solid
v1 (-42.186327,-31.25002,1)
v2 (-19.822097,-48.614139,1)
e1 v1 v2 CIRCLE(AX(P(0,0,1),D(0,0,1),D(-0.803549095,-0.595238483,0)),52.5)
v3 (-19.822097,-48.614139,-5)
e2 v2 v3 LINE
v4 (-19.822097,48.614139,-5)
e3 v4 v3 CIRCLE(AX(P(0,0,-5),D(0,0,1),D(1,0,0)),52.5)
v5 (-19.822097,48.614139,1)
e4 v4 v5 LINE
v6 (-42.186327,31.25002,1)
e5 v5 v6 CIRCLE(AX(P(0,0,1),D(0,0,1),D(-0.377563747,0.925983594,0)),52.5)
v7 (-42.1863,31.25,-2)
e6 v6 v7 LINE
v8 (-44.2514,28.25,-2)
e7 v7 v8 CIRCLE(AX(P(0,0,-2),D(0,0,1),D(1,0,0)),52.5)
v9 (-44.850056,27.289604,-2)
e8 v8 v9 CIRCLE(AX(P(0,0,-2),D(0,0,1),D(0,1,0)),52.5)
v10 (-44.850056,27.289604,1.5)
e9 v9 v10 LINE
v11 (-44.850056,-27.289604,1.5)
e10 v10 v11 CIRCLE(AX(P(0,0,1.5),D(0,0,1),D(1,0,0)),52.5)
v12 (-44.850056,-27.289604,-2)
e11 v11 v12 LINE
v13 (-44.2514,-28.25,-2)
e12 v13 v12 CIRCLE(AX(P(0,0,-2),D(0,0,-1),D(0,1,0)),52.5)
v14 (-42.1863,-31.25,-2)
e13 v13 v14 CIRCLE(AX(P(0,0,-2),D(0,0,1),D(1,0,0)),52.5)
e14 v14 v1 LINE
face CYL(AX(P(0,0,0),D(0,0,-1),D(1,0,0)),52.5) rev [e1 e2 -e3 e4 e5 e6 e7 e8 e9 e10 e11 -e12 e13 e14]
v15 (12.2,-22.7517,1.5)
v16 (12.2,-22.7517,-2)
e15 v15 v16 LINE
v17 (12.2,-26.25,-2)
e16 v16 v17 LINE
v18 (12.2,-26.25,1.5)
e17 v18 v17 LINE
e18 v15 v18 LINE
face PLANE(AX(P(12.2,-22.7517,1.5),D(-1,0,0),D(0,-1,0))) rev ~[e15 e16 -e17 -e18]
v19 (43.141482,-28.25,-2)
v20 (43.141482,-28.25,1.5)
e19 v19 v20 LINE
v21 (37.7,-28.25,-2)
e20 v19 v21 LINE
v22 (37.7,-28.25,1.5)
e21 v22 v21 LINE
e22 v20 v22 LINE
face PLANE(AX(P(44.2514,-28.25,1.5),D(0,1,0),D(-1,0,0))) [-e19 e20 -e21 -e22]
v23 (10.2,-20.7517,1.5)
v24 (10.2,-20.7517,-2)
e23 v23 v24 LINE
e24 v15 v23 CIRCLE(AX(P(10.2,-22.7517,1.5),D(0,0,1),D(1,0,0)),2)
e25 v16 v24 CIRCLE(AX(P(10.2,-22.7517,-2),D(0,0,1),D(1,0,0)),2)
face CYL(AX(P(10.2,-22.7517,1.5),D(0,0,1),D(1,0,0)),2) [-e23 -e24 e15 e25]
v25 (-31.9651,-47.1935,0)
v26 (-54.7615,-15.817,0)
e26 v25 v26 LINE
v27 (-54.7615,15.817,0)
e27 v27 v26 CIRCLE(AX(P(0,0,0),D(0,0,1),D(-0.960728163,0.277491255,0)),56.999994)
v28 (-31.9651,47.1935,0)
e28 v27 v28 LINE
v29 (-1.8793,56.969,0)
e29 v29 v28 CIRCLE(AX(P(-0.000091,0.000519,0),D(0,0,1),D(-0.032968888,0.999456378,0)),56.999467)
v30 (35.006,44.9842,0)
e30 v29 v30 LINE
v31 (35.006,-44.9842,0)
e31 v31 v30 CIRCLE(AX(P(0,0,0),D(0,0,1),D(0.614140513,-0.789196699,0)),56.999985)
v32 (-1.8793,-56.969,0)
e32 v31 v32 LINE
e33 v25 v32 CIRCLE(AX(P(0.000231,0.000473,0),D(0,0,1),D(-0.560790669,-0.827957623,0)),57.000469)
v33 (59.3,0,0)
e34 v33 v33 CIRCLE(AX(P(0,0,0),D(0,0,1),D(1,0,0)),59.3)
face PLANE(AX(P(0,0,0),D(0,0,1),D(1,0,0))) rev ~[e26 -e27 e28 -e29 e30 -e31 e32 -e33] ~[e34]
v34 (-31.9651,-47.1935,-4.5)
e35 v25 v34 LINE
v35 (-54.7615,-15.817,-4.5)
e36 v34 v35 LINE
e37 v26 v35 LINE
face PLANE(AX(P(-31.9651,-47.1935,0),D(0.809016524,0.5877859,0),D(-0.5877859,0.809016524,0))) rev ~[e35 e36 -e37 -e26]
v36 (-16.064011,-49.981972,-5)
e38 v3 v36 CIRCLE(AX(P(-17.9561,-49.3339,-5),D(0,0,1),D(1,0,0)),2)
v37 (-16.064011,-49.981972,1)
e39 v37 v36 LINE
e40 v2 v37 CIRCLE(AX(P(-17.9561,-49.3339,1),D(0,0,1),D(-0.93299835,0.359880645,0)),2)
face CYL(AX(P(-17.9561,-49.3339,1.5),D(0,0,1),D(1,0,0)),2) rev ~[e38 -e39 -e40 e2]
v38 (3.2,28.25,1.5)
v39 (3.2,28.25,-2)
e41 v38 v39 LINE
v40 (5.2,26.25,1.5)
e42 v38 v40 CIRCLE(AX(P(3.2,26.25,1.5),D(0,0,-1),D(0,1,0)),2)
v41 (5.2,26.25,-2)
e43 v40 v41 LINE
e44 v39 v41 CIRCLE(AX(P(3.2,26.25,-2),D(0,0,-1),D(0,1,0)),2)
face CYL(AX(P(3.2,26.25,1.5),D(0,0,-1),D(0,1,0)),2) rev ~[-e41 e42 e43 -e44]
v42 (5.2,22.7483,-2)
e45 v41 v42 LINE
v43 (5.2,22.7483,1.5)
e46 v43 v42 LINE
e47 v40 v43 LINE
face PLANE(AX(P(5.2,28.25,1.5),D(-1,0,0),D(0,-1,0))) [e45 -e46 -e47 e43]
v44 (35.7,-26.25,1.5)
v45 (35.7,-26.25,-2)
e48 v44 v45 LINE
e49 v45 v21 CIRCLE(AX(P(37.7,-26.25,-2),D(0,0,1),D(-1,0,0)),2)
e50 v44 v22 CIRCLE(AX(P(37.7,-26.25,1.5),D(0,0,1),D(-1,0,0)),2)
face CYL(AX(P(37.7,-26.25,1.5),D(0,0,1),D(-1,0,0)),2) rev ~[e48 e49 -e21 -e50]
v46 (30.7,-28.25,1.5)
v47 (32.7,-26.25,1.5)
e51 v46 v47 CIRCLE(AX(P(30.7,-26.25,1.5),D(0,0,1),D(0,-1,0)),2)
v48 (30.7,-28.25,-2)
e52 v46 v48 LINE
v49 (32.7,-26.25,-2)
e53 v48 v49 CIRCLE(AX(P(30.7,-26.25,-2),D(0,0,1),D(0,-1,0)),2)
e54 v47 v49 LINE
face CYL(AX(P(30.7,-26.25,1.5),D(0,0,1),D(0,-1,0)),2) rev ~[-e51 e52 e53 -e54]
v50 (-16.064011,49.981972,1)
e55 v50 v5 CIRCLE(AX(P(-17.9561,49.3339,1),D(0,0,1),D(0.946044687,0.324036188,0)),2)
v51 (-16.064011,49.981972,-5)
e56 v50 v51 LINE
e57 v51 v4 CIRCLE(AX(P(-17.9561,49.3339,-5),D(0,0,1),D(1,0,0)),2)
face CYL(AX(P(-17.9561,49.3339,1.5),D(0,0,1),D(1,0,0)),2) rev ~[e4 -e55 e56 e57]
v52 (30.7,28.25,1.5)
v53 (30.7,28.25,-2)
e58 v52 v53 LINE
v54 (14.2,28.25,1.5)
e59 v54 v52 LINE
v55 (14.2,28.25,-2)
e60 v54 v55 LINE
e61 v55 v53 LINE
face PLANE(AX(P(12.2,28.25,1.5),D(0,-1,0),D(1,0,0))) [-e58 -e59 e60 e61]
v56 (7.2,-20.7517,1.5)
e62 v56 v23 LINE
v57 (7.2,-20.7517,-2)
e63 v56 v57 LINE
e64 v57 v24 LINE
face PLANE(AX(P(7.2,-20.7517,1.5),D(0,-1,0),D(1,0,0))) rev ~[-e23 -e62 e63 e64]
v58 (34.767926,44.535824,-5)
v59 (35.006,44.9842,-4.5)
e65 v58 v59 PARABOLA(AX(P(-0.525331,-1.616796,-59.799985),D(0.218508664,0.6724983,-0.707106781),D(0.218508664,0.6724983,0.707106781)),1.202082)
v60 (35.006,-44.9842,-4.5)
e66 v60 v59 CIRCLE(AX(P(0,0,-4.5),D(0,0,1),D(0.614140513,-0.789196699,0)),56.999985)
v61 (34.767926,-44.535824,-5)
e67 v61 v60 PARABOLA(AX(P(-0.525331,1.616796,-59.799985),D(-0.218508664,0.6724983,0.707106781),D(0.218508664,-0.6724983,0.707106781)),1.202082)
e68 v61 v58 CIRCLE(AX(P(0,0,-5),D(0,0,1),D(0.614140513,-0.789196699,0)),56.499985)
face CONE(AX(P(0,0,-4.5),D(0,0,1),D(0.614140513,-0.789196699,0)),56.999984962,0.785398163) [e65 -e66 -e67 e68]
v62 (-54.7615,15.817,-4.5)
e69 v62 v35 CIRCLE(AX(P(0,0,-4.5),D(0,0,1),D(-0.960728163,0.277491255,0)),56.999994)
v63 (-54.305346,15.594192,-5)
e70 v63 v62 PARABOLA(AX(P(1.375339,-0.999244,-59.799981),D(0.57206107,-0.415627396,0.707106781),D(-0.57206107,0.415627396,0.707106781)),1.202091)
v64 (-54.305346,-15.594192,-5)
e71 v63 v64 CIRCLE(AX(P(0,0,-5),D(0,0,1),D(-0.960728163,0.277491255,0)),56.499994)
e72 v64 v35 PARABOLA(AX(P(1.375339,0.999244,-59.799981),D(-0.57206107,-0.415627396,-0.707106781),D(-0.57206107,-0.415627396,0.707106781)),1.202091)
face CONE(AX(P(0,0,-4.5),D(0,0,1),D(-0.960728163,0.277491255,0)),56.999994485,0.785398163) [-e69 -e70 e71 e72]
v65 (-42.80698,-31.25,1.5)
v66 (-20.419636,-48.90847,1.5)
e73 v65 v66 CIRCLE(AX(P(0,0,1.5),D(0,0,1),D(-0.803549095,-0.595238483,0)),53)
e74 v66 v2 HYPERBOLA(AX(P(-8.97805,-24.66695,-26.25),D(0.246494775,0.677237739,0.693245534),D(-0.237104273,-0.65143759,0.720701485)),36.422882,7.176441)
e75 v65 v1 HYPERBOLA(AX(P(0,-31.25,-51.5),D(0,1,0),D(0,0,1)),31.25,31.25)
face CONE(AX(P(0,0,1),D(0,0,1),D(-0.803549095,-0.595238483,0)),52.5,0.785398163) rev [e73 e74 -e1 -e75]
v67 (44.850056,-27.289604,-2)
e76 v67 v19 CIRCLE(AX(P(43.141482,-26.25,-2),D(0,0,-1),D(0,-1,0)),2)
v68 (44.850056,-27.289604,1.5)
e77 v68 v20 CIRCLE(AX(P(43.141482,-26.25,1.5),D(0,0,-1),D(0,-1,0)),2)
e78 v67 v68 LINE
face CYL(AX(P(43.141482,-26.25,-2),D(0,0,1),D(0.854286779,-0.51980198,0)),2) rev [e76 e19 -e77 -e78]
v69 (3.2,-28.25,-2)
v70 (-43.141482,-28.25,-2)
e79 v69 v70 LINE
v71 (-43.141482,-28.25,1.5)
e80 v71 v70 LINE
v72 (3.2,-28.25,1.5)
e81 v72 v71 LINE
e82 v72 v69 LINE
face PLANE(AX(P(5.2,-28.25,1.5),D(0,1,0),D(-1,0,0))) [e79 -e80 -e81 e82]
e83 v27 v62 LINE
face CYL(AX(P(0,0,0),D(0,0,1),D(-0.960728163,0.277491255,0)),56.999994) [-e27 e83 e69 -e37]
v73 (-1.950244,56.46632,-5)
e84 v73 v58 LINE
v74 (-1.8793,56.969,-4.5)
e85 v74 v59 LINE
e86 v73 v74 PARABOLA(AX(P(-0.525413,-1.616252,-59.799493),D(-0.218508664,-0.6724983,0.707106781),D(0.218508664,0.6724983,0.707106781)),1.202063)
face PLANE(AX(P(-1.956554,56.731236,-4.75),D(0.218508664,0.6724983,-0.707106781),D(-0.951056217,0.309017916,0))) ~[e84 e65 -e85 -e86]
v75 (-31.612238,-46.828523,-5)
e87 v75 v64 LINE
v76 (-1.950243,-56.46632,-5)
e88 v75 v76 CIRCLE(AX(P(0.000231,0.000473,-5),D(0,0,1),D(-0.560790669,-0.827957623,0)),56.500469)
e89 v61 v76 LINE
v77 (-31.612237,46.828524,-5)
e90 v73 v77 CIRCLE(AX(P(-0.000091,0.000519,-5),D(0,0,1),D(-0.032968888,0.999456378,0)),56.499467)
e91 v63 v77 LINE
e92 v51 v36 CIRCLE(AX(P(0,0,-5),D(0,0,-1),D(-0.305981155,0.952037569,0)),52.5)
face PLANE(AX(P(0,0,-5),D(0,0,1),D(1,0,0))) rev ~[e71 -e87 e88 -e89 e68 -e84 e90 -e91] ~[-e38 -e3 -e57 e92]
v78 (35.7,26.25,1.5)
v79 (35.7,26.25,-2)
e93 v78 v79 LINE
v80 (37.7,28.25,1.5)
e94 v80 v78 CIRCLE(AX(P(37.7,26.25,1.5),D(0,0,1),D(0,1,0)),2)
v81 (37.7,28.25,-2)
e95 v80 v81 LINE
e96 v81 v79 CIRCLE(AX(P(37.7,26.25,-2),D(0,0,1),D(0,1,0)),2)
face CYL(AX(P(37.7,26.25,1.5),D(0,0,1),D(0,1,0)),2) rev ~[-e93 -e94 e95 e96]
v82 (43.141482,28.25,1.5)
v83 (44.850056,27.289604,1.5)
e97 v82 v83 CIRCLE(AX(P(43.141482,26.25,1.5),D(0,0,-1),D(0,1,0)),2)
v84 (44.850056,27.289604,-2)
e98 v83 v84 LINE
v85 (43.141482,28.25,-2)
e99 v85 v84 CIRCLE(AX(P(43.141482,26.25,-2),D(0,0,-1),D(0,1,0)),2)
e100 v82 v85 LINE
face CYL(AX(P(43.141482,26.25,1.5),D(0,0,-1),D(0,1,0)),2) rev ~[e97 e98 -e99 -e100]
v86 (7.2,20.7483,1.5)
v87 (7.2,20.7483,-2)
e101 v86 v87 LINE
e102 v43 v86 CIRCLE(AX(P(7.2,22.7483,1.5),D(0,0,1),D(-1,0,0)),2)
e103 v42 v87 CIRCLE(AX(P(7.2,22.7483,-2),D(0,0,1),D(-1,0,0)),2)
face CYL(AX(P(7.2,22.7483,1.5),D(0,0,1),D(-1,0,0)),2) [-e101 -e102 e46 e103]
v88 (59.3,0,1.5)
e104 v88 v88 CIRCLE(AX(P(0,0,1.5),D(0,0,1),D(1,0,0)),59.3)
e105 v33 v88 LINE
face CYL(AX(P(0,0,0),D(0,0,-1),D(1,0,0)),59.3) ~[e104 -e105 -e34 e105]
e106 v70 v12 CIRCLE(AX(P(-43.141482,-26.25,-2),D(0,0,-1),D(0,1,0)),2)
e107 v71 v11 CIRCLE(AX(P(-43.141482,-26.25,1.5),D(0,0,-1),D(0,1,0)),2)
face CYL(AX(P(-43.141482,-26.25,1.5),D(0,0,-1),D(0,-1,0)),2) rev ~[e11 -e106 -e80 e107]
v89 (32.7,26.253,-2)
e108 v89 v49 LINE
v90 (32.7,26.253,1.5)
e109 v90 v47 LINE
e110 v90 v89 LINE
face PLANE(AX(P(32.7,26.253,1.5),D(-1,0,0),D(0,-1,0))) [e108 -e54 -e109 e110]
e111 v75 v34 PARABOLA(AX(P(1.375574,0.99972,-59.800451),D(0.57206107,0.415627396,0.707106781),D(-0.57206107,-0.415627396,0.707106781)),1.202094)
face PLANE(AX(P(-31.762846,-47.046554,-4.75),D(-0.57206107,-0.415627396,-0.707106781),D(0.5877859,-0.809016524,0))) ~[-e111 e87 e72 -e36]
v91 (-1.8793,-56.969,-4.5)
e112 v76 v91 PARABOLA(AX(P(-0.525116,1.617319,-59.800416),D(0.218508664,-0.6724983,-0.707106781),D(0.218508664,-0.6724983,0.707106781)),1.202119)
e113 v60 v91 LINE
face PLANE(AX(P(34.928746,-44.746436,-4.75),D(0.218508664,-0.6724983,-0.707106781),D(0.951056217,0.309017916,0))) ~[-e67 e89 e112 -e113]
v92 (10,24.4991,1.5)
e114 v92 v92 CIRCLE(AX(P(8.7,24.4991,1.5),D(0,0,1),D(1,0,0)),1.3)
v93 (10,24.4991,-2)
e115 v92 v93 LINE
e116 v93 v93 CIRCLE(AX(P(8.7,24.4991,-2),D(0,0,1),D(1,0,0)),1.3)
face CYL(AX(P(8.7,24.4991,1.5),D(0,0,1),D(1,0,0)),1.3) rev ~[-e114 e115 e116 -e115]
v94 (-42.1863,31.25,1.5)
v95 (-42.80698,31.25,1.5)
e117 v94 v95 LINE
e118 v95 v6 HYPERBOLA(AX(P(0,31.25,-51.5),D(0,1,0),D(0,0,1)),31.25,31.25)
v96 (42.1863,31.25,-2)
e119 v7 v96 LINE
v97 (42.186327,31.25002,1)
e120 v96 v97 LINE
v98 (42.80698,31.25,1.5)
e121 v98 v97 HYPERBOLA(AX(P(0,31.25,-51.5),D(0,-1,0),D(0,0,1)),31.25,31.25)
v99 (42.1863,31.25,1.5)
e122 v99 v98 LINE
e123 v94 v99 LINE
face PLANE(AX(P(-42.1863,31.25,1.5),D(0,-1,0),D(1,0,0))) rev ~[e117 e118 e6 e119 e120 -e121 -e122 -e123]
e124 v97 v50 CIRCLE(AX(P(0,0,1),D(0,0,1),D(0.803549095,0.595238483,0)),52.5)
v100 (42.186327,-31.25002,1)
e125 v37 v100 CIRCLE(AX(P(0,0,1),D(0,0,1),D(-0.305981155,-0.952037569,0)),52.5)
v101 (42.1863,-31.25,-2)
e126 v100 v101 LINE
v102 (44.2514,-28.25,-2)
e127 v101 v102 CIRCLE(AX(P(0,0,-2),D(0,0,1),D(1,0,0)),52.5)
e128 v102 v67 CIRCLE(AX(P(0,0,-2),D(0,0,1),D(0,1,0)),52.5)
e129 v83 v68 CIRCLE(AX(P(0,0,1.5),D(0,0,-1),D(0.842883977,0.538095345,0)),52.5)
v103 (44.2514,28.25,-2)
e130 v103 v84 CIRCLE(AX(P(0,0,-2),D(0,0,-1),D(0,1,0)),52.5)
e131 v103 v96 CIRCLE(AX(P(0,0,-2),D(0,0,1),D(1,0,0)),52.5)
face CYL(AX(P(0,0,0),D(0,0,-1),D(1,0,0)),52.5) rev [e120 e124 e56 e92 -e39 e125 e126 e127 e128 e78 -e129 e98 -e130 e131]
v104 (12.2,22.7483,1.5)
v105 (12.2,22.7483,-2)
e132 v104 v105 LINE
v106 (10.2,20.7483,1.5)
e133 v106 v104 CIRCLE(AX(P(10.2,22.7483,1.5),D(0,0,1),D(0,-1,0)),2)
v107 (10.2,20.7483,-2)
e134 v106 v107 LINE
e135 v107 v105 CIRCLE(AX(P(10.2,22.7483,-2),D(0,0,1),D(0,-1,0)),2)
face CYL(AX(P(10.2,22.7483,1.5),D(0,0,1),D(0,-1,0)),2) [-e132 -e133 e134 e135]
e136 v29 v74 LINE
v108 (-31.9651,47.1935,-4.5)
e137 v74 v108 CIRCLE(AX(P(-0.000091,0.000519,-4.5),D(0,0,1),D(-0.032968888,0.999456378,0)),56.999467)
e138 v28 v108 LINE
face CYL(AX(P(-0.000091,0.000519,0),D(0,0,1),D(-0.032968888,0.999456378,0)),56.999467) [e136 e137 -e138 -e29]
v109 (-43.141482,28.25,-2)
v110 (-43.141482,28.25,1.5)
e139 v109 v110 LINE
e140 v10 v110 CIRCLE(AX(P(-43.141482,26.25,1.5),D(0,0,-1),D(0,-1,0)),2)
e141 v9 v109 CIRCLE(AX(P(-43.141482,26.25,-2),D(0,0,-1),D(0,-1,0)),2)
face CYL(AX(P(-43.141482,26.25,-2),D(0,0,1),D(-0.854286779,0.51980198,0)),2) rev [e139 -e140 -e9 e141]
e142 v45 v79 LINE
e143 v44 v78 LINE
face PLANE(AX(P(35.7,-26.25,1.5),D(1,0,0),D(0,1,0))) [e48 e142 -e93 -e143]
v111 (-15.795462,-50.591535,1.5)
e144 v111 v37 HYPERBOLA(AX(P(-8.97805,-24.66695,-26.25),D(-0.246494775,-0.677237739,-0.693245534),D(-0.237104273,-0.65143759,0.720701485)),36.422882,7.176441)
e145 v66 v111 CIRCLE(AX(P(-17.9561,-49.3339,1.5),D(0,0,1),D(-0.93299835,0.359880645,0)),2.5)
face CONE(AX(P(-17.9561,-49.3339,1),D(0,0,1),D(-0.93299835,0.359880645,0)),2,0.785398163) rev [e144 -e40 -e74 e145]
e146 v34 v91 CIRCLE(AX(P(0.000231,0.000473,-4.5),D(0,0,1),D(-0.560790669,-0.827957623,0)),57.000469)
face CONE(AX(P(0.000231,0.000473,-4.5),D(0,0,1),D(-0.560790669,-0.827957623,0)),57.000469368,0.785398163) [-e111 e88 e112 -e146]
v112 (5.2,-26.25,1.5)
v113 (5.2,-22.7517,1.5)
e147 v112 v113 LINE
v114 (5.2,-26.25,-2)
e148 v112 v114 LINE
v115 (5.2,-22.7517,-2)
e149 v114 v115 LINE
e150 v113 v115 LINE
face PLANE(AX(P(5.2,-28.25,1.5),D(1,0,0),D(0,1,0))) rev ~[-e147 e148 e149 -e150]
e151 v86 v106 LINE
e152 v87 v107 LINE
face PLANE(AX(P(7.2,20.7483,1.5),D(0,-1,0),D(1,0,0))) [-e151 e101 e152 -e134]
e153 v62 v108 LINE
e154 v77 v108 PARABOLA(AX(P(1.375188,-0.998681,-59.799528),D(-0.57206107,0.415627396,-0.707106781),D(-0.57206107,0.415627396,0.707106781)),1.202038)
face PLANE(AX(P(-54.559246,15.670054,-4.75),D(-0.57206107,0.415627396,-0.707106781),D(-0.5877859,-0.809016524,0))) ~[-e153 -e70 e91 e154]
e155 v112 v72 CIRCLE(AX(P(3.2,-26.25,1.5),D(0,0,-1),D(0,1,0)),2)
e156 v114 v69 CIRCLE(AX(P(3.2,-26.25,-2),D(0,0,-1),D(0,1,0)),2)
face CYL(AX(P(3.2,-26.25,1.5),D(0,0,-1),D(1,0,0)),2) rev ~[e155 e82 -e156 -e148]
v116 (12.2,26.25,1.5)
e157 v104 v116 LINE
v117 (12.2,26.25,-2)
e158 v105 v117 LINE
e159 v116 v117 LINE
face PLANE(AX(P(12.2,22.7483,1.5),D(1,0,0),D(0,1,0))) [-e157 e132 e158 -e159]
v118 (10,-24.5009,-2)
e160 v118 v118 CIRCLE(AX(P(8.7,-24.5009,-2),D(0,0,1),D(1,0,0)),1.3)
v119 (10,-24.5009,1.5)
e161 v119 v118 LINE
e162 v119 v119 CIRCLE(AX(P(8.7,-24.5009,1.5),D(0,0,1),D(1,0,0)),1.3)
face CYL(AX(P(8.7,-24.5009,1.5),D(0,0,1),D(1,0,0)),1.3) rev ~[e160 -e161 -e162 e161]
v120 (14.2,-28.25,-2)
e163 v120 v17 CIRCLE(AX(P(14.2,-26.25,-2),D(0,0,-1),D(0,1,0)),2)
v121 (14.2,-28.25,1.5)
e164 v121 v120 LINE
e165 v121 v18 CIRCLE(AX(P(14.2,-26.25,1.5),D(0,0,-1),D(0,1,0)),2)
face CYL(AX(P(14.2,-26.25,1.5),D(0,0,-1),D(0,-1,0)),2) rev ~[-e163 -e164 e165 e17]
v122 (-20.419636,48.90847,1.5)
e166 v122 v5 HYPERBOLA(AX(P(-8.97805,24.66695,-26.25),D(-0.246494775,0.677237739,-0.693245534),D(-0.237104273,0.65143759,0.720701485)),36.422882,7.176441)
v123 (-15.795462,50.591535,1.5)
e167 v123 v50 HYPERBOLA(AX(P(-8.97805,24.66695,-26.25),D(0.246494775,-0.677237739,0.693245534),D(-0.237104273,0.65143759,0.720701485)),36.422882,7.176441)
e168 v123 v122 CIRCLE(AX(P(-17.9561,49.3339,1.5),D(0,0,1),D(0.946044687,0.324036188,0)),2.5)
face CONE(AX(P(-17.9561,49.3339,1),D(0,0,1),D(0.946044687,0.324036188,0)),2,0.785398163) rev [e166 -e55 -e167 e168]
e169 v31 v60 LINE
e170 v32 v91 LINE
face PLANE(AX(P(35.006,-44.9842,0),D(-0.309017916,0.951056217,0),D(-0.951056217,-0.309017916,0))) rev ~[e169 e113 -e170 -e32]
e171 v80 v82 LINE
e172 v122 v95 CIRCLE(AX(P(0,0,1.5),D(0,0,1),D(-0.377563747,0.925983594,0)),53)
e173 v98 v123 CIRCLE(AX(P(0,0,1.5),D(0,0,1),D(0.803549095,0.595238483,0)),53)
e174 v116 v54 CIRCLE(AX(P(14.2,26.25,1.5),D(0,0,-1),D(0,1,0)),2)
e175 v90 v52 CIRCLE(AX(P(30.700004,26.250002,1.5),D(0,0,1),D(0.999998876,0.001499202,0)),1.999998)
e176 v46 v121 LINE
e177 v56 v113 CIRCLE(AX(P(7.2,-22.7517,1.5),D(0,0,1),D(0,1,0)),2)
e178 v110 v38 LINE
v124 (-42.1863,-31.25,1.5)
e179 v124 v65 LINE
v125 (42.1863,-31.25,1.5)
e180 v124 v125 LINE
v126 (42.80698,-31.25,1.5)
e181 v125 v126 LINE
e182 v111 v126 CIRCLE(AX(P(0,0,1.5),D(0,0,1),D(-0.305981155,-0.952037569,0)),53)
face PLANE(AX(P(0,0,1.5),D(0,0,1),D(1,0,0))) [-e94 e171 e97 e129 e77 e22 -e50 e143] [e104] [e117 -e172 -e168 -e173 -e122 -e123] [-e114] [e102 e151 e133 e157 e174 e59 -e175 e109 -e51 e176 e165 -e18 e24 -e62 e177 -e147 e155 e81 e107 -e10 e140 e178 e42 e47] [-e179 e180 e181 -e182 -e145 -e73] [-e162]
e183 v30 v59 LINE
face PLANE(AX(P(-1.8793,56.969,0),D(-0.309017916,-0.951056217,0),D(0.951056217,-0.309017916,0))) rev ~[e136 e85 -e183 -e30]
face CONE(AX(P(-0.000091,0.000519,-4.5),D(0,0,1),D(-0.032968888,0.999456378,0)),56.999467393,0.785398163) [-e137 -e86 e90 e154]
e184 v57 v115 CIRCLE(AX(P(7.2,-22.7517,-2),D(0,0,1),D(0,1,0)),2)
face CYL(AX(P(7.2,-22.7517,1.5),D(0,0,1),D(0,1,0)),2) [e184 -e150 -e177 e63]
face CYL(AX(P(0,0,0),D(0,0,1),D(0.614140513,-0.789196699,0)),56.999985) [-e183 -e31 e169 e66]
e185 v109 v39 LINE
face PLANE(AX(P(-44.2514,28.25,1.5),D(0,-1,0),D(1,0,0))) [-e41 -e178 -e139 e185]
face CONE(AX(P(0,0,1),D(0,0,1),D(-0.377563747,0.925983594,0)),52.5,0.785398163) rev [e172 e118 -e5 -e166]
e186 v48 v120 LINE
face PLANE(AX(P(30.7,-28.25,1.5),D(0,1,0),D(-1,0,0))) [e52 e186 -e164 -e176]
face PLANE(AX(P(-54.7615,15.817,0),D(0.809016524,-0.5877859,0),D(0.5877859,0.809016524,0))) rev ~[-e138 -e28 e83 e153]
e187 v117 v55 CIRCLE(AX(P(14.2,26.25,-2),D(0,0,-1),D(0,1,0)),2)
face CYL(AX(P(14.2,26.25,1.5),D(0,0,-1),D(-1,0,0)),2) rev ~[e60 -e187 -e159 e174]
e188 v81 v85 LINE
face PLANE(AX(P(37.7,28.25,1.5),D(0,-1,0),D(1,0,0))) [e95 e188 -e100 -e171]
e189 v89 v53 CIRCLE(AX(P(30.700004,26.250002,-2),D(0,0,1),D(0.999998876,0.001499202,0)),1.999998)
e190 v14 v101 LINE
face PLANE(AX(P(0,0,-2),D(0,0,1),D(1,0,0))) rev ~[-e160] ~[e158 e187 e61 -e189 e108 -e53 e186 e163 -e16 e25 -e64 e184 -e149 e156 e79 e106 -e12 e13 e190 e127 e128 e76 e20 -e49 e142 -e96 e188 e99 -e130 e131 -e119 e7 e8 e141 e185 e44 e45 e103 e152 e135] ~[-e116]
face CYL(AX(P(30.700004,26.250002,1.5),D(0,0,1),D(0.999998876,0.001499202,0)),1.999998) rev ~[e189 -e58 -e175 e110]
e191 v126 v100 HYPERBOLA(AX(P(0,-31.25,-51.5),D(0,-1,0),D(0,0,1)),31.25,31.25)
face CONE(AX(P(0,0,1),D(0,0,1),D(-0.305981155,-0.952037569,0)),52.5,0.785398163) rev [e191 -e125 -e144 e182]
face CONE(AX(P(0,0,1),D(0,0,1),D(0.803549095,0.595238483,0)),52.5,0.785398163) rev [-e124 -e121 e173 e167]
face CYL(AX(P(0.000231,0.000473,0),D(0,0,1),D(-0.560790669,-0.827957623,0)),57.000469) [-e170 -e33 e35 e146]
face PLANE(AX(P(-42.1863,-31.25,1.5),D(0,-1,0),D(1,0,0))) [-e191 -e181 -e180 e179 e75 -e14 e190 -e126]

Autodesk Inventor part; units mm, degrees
ref_plane "YZ Plane" through (0, 0, 0) normal (1, 0, 0) x (0, 1, 0)
ref_plane "XZ Plane" through (0, 0, 0) normal (0, 1, 0) x (-1, 0, 0)
sketch "Skizze1" plane through (0, 0, 0) normal (0, 0, 1) x (1, 0, 0)
  circle A0 centre (0, 0) radius 59.3
  circle A1 centre (0, 0) radius 52.5
  circle A2 centre (0, 0) radius 53.6 construction
  line L0 (-83.17, 0) -> (83.92, 0) construction
  line L1 (35.006, -44.9842) -> (-1.8793, -56.969)
  line L2 (-54.7615, 15.817) -> (-31.9651, 47.1935)
  line L3 (-1.8793, 56.969) -> (35.006, 44.9842)
  line L4 (-31.9651, -47.1935) -> (-54.7615, -15.817)
  arc A3 (-31.9651, -47.1935) -> (-1.8793, -56.969) centre (0, 0) ccw
  arc A4 (-54.7615, 15.817) -> (-54.7615, -15.817) centre (0, 0) ccw
  arc A5 (35.006, -44.9842) -> (35.006, 44.9842) centre (0, 0) ccw
  arc A6 (-1.8793, 56.969) -> (-31.9651, 47.1935) centre (0, 0) ccw
  circle A7 centre (0, 0) radius 46.4646
  line L5 (16.5633, -50.9766) -> (0, 0) construction
  line L6 (0, 0) -> (-43.3633, -31.5053) construction
  line L7 (0, 0) -> (16.5633, 50.9766) construction
  line L8 (0, 0) -> (-43.3633, 31.5053) construction
  point P0 (60.05, 0)
  dimension "d7" = 118.6
  dimension "d100" = 105
  dimension "d108" = 107.2
  dimension "d110" = 57
  dimension "d115" = 6.0354
  dimension "d139" = 72
  dimension "d140" = 72
  dimension "d141" = 72
  dimension "d142" = 72
extrude "Extrusion3" add sketch "Skizze1" against normal blind 5 contours L1 A3 L4 A4 L2 A6 L3 A5
extrude "Extrusion4" add sketch "Skizze1" along normal blind 1.5 contours A0 | L1 A3 L4 A4 L2 A6 L3 A5
sketch "ODroidskizze" plane through (0, 0, 1.5) normal (0, 0, 1) x (1, 0, 0)
  line L0 (0, -83.02) -> (0, 83.02) construction
  line L1 (-83.02, 0) -> (83.02, 0) construction
  line L2 (8.7, -24.5009) -> (-49.3, -24.5009) construction
  line L3 (-49.3, -24.5009) -> (-49.3, 24.4991) construction
  line L4 (-49.3, 24.4991) -> (8.7, 24.4991) construction
  line L5 (8.7, 24.4991) -> (8.7, -24.5009) construction
  line L6 (8.7, -24.5009) -> (-49.3, 24.4991) construction
  line L7 (32.7, 28.25) -> (32.7, -28.25) construction
  line L8 (32.7, -28.25) -> (-53.1757, 34.4371) construction
  line L9 (-53.1757, -34.4371) -> (32.7, 28.25) construction
  line L10 (32.7, 26.253) -> (32.7, -26.25)
  line L11 (7.2, 20.7483) -> (10.2, 20.7483)
  line L12 (12.2, 22.7483) -> (12.2, 28.25)
  line L13 (5.2, 28.25) -> (5.2, 22.7483)
  line L14 (5.2, 20.7483) -> (12.2, 28.25) construction
  line L15 (12.2, 20.7483) -> (5.2, 28.25) construction
  line L16 (7.2, -20.7517) -> (10.2, -20.7517)
  line L17 (12.2, -22.7517) -> (12.2, -28.25)
  line L18 (5.2, -28.25) -> (5.2, -22.7517)
  line L19 (5.2, -20.7517) -> (12.2, -28.25) construction
  line L20 (12.2, -20.7517) -> (5.2, -28.25) construction
  arc A0 (5.2, 22.7483) -> (7.2, 20.7483) centre (7.2, 22.7483) ccw
  arc A1 (10.2, 20.7483) -> (12.2, 22.7483) centre (10.2, 22.7483) ccw
  arc A2 (12.2, -22.7517) -> (10.2, -20.7517) centre (10.2, -22.7517) ccw
  arc A3 (7.2, -20.7517) -> (5.2, -22.7517) centre (7.2, -22.7517) ccw
  arc A4 (32.7, 26.253) -> (30.7, 28.25) centre (30.7, 26.25) ccw
  arc A5 (30.7, -28.25) -> (32.7, -26.25) centre (30.7, -26.25) ccw
  line L21 (12.2, 28.25) -> (30.7, 28.25)
  line L22 (12.2, 28.25) -> (32.7, 28.25) construction
  line L23 (30.7, -28.25) -> (12.2, -28.25)
  line L24 (32.7, -28.25) -> (12.2, -28.25) construction
  circle A6 centre (0, 0) radius 59.3 projected
  line L25 (-42.1863, 31.25) -> (42.1863, 31.25)
  line L26 (-42.1863, -31.25) -> (42.1863, -31.25)
  line L27 (35.7, -26.25) -> (35.7, 26.25)
  line L28 (37.7, 28.25) -> (44.2514, 28.25)
  line L29 (44.2514, -28.25) -> (37.7, -28.25)
  arc A7 (37.7, 28.25) -> (35.7, 26.25) centre (37.7, 26.25) ccw
  arc A8 (35.7, -26.25) -> (37.7, -28.25) centre (37.7, -26.25) ccw
  circle A9 centre (8.7, 24.4991) radius 1.3
  circle A10 centre (8.7, -24.5009) radius 1.3
  circle A11 centre (0, 0) radius 52.5 projected
  line L30 (-44.2514, 28.25) -> (5.2, 28.25) construction
  line L31 (-44.2514, 28.25) -> (5.2, 28.25)
  line L32 (5.2, -28.25) -> (-44.2514, -28.25)
  line L33 (5.2, -28.25) -> (-44.2514, -28.25) construction
  point P0 (0.9483, -27.9891)
  point P1 (-20.301, 0)
  point P2 (-20.301, 0)
  point P3 (-6, 0)
  point P4 (44.0485, 0)
  point P5 (-44.8148, -28.2558)
  point P6 (44.8435, -28.25)
  point P7 (44.8435, 28.25)
  point P8 (-44.8435, -28.25)
  point P9 (53, 0)
  point P10 (-53.0251, 0)
  dimension "d30" = 49
  dimension "d31" = 58
  dimension "d38" = 6
  dimension "d39" = 7
  dimension "d40" = 7
  dimension "d69" = 3
  dimension "d70" = 2
  dimension "d114" = 5.2
  dimension "d134" = 62.5
  dimension "d135" = 2.6
  dimension "d136" = 2.6
extrude "Extrusion5" add sketch "ODroidskizze" against normal blind 3.5 contours A4 L21 L12 A1 L11 A0 L13 L31 A11 L25 L28 A7 L27 A8 L29 L26 L32 L18 A3 L16 A2 L17 L23 A5 L10
ref_plane "Arbeitsebene1" through (0, 0, -1) normal (0, 0, 1) x (1, 0, 0)
sketch "Skizze8" plane through (0, 0, 1.5) normal (0, 0, 1) x (1, 0, 0)
  arc A0 (42.1863, 31.25) -> (-42.1863, 31.25) centre (0, 0) ccw construction
  arc A1 (-42.1863, -31.25) -> (42.1863, -31.25) centre (0, 0) ccw construction
  circle A2 centre (-17.9561, -49.3339) radius 2
  circle A3 centre (-17.9561, 49.3339) radius 2
  line L0 (-83.02, 0) -> (83.02, 0) construction
  line L1 (-17.9561, -49.3339) -> (0, 0) construction
  line L2 (0, 0) -> (-17.9561, 49.3339) construction
  dimension "d116" = 4
  dimension "d117" = 4
  dimension "d143" = 70
  dimension "d144" = 70
extrude "Lidar-Holder-Nose" cut sketch "Skizze8" against normal up to next
chamfer "Fase5" distance 0.5 angle 45 14 edges at (-43.3633, -31.5053, -5) (-57, 0, -5) (-17.614, -54.2102, -5) (-43.3633, 31.5053, -5) (-17.614, 54.2102, -5) (16.5633, 50.9766, -5) (57, 0, -5) (16.5633, -50.9766, -5) (-32.1969, -41.4682, 1.5) (16.0722, -49.9793, 1.5) (16.0722, 49.9793, 1.5) (-32.1969, 41.4682, 1.5) (-18.6401, 51.2132, 1.5) (-18.6401, -51.2132, 1.5)
fillet "Rundung4" radius 2 8 edges at (-44.2514, -28.25, -0.25) (44.2514, -28.25, -0.25) (44.2514, 28.25, -0.25) (-44.2514, 28.25, -0.25) (12.2, 28.25, -0.25) (5.2, 28.25, -0.25) (5.2, -28.25, -0.25) (12.2, -28.25, -0.25)
properties part number "ODroid Holder-40x" material "Kupfer, Guss"
